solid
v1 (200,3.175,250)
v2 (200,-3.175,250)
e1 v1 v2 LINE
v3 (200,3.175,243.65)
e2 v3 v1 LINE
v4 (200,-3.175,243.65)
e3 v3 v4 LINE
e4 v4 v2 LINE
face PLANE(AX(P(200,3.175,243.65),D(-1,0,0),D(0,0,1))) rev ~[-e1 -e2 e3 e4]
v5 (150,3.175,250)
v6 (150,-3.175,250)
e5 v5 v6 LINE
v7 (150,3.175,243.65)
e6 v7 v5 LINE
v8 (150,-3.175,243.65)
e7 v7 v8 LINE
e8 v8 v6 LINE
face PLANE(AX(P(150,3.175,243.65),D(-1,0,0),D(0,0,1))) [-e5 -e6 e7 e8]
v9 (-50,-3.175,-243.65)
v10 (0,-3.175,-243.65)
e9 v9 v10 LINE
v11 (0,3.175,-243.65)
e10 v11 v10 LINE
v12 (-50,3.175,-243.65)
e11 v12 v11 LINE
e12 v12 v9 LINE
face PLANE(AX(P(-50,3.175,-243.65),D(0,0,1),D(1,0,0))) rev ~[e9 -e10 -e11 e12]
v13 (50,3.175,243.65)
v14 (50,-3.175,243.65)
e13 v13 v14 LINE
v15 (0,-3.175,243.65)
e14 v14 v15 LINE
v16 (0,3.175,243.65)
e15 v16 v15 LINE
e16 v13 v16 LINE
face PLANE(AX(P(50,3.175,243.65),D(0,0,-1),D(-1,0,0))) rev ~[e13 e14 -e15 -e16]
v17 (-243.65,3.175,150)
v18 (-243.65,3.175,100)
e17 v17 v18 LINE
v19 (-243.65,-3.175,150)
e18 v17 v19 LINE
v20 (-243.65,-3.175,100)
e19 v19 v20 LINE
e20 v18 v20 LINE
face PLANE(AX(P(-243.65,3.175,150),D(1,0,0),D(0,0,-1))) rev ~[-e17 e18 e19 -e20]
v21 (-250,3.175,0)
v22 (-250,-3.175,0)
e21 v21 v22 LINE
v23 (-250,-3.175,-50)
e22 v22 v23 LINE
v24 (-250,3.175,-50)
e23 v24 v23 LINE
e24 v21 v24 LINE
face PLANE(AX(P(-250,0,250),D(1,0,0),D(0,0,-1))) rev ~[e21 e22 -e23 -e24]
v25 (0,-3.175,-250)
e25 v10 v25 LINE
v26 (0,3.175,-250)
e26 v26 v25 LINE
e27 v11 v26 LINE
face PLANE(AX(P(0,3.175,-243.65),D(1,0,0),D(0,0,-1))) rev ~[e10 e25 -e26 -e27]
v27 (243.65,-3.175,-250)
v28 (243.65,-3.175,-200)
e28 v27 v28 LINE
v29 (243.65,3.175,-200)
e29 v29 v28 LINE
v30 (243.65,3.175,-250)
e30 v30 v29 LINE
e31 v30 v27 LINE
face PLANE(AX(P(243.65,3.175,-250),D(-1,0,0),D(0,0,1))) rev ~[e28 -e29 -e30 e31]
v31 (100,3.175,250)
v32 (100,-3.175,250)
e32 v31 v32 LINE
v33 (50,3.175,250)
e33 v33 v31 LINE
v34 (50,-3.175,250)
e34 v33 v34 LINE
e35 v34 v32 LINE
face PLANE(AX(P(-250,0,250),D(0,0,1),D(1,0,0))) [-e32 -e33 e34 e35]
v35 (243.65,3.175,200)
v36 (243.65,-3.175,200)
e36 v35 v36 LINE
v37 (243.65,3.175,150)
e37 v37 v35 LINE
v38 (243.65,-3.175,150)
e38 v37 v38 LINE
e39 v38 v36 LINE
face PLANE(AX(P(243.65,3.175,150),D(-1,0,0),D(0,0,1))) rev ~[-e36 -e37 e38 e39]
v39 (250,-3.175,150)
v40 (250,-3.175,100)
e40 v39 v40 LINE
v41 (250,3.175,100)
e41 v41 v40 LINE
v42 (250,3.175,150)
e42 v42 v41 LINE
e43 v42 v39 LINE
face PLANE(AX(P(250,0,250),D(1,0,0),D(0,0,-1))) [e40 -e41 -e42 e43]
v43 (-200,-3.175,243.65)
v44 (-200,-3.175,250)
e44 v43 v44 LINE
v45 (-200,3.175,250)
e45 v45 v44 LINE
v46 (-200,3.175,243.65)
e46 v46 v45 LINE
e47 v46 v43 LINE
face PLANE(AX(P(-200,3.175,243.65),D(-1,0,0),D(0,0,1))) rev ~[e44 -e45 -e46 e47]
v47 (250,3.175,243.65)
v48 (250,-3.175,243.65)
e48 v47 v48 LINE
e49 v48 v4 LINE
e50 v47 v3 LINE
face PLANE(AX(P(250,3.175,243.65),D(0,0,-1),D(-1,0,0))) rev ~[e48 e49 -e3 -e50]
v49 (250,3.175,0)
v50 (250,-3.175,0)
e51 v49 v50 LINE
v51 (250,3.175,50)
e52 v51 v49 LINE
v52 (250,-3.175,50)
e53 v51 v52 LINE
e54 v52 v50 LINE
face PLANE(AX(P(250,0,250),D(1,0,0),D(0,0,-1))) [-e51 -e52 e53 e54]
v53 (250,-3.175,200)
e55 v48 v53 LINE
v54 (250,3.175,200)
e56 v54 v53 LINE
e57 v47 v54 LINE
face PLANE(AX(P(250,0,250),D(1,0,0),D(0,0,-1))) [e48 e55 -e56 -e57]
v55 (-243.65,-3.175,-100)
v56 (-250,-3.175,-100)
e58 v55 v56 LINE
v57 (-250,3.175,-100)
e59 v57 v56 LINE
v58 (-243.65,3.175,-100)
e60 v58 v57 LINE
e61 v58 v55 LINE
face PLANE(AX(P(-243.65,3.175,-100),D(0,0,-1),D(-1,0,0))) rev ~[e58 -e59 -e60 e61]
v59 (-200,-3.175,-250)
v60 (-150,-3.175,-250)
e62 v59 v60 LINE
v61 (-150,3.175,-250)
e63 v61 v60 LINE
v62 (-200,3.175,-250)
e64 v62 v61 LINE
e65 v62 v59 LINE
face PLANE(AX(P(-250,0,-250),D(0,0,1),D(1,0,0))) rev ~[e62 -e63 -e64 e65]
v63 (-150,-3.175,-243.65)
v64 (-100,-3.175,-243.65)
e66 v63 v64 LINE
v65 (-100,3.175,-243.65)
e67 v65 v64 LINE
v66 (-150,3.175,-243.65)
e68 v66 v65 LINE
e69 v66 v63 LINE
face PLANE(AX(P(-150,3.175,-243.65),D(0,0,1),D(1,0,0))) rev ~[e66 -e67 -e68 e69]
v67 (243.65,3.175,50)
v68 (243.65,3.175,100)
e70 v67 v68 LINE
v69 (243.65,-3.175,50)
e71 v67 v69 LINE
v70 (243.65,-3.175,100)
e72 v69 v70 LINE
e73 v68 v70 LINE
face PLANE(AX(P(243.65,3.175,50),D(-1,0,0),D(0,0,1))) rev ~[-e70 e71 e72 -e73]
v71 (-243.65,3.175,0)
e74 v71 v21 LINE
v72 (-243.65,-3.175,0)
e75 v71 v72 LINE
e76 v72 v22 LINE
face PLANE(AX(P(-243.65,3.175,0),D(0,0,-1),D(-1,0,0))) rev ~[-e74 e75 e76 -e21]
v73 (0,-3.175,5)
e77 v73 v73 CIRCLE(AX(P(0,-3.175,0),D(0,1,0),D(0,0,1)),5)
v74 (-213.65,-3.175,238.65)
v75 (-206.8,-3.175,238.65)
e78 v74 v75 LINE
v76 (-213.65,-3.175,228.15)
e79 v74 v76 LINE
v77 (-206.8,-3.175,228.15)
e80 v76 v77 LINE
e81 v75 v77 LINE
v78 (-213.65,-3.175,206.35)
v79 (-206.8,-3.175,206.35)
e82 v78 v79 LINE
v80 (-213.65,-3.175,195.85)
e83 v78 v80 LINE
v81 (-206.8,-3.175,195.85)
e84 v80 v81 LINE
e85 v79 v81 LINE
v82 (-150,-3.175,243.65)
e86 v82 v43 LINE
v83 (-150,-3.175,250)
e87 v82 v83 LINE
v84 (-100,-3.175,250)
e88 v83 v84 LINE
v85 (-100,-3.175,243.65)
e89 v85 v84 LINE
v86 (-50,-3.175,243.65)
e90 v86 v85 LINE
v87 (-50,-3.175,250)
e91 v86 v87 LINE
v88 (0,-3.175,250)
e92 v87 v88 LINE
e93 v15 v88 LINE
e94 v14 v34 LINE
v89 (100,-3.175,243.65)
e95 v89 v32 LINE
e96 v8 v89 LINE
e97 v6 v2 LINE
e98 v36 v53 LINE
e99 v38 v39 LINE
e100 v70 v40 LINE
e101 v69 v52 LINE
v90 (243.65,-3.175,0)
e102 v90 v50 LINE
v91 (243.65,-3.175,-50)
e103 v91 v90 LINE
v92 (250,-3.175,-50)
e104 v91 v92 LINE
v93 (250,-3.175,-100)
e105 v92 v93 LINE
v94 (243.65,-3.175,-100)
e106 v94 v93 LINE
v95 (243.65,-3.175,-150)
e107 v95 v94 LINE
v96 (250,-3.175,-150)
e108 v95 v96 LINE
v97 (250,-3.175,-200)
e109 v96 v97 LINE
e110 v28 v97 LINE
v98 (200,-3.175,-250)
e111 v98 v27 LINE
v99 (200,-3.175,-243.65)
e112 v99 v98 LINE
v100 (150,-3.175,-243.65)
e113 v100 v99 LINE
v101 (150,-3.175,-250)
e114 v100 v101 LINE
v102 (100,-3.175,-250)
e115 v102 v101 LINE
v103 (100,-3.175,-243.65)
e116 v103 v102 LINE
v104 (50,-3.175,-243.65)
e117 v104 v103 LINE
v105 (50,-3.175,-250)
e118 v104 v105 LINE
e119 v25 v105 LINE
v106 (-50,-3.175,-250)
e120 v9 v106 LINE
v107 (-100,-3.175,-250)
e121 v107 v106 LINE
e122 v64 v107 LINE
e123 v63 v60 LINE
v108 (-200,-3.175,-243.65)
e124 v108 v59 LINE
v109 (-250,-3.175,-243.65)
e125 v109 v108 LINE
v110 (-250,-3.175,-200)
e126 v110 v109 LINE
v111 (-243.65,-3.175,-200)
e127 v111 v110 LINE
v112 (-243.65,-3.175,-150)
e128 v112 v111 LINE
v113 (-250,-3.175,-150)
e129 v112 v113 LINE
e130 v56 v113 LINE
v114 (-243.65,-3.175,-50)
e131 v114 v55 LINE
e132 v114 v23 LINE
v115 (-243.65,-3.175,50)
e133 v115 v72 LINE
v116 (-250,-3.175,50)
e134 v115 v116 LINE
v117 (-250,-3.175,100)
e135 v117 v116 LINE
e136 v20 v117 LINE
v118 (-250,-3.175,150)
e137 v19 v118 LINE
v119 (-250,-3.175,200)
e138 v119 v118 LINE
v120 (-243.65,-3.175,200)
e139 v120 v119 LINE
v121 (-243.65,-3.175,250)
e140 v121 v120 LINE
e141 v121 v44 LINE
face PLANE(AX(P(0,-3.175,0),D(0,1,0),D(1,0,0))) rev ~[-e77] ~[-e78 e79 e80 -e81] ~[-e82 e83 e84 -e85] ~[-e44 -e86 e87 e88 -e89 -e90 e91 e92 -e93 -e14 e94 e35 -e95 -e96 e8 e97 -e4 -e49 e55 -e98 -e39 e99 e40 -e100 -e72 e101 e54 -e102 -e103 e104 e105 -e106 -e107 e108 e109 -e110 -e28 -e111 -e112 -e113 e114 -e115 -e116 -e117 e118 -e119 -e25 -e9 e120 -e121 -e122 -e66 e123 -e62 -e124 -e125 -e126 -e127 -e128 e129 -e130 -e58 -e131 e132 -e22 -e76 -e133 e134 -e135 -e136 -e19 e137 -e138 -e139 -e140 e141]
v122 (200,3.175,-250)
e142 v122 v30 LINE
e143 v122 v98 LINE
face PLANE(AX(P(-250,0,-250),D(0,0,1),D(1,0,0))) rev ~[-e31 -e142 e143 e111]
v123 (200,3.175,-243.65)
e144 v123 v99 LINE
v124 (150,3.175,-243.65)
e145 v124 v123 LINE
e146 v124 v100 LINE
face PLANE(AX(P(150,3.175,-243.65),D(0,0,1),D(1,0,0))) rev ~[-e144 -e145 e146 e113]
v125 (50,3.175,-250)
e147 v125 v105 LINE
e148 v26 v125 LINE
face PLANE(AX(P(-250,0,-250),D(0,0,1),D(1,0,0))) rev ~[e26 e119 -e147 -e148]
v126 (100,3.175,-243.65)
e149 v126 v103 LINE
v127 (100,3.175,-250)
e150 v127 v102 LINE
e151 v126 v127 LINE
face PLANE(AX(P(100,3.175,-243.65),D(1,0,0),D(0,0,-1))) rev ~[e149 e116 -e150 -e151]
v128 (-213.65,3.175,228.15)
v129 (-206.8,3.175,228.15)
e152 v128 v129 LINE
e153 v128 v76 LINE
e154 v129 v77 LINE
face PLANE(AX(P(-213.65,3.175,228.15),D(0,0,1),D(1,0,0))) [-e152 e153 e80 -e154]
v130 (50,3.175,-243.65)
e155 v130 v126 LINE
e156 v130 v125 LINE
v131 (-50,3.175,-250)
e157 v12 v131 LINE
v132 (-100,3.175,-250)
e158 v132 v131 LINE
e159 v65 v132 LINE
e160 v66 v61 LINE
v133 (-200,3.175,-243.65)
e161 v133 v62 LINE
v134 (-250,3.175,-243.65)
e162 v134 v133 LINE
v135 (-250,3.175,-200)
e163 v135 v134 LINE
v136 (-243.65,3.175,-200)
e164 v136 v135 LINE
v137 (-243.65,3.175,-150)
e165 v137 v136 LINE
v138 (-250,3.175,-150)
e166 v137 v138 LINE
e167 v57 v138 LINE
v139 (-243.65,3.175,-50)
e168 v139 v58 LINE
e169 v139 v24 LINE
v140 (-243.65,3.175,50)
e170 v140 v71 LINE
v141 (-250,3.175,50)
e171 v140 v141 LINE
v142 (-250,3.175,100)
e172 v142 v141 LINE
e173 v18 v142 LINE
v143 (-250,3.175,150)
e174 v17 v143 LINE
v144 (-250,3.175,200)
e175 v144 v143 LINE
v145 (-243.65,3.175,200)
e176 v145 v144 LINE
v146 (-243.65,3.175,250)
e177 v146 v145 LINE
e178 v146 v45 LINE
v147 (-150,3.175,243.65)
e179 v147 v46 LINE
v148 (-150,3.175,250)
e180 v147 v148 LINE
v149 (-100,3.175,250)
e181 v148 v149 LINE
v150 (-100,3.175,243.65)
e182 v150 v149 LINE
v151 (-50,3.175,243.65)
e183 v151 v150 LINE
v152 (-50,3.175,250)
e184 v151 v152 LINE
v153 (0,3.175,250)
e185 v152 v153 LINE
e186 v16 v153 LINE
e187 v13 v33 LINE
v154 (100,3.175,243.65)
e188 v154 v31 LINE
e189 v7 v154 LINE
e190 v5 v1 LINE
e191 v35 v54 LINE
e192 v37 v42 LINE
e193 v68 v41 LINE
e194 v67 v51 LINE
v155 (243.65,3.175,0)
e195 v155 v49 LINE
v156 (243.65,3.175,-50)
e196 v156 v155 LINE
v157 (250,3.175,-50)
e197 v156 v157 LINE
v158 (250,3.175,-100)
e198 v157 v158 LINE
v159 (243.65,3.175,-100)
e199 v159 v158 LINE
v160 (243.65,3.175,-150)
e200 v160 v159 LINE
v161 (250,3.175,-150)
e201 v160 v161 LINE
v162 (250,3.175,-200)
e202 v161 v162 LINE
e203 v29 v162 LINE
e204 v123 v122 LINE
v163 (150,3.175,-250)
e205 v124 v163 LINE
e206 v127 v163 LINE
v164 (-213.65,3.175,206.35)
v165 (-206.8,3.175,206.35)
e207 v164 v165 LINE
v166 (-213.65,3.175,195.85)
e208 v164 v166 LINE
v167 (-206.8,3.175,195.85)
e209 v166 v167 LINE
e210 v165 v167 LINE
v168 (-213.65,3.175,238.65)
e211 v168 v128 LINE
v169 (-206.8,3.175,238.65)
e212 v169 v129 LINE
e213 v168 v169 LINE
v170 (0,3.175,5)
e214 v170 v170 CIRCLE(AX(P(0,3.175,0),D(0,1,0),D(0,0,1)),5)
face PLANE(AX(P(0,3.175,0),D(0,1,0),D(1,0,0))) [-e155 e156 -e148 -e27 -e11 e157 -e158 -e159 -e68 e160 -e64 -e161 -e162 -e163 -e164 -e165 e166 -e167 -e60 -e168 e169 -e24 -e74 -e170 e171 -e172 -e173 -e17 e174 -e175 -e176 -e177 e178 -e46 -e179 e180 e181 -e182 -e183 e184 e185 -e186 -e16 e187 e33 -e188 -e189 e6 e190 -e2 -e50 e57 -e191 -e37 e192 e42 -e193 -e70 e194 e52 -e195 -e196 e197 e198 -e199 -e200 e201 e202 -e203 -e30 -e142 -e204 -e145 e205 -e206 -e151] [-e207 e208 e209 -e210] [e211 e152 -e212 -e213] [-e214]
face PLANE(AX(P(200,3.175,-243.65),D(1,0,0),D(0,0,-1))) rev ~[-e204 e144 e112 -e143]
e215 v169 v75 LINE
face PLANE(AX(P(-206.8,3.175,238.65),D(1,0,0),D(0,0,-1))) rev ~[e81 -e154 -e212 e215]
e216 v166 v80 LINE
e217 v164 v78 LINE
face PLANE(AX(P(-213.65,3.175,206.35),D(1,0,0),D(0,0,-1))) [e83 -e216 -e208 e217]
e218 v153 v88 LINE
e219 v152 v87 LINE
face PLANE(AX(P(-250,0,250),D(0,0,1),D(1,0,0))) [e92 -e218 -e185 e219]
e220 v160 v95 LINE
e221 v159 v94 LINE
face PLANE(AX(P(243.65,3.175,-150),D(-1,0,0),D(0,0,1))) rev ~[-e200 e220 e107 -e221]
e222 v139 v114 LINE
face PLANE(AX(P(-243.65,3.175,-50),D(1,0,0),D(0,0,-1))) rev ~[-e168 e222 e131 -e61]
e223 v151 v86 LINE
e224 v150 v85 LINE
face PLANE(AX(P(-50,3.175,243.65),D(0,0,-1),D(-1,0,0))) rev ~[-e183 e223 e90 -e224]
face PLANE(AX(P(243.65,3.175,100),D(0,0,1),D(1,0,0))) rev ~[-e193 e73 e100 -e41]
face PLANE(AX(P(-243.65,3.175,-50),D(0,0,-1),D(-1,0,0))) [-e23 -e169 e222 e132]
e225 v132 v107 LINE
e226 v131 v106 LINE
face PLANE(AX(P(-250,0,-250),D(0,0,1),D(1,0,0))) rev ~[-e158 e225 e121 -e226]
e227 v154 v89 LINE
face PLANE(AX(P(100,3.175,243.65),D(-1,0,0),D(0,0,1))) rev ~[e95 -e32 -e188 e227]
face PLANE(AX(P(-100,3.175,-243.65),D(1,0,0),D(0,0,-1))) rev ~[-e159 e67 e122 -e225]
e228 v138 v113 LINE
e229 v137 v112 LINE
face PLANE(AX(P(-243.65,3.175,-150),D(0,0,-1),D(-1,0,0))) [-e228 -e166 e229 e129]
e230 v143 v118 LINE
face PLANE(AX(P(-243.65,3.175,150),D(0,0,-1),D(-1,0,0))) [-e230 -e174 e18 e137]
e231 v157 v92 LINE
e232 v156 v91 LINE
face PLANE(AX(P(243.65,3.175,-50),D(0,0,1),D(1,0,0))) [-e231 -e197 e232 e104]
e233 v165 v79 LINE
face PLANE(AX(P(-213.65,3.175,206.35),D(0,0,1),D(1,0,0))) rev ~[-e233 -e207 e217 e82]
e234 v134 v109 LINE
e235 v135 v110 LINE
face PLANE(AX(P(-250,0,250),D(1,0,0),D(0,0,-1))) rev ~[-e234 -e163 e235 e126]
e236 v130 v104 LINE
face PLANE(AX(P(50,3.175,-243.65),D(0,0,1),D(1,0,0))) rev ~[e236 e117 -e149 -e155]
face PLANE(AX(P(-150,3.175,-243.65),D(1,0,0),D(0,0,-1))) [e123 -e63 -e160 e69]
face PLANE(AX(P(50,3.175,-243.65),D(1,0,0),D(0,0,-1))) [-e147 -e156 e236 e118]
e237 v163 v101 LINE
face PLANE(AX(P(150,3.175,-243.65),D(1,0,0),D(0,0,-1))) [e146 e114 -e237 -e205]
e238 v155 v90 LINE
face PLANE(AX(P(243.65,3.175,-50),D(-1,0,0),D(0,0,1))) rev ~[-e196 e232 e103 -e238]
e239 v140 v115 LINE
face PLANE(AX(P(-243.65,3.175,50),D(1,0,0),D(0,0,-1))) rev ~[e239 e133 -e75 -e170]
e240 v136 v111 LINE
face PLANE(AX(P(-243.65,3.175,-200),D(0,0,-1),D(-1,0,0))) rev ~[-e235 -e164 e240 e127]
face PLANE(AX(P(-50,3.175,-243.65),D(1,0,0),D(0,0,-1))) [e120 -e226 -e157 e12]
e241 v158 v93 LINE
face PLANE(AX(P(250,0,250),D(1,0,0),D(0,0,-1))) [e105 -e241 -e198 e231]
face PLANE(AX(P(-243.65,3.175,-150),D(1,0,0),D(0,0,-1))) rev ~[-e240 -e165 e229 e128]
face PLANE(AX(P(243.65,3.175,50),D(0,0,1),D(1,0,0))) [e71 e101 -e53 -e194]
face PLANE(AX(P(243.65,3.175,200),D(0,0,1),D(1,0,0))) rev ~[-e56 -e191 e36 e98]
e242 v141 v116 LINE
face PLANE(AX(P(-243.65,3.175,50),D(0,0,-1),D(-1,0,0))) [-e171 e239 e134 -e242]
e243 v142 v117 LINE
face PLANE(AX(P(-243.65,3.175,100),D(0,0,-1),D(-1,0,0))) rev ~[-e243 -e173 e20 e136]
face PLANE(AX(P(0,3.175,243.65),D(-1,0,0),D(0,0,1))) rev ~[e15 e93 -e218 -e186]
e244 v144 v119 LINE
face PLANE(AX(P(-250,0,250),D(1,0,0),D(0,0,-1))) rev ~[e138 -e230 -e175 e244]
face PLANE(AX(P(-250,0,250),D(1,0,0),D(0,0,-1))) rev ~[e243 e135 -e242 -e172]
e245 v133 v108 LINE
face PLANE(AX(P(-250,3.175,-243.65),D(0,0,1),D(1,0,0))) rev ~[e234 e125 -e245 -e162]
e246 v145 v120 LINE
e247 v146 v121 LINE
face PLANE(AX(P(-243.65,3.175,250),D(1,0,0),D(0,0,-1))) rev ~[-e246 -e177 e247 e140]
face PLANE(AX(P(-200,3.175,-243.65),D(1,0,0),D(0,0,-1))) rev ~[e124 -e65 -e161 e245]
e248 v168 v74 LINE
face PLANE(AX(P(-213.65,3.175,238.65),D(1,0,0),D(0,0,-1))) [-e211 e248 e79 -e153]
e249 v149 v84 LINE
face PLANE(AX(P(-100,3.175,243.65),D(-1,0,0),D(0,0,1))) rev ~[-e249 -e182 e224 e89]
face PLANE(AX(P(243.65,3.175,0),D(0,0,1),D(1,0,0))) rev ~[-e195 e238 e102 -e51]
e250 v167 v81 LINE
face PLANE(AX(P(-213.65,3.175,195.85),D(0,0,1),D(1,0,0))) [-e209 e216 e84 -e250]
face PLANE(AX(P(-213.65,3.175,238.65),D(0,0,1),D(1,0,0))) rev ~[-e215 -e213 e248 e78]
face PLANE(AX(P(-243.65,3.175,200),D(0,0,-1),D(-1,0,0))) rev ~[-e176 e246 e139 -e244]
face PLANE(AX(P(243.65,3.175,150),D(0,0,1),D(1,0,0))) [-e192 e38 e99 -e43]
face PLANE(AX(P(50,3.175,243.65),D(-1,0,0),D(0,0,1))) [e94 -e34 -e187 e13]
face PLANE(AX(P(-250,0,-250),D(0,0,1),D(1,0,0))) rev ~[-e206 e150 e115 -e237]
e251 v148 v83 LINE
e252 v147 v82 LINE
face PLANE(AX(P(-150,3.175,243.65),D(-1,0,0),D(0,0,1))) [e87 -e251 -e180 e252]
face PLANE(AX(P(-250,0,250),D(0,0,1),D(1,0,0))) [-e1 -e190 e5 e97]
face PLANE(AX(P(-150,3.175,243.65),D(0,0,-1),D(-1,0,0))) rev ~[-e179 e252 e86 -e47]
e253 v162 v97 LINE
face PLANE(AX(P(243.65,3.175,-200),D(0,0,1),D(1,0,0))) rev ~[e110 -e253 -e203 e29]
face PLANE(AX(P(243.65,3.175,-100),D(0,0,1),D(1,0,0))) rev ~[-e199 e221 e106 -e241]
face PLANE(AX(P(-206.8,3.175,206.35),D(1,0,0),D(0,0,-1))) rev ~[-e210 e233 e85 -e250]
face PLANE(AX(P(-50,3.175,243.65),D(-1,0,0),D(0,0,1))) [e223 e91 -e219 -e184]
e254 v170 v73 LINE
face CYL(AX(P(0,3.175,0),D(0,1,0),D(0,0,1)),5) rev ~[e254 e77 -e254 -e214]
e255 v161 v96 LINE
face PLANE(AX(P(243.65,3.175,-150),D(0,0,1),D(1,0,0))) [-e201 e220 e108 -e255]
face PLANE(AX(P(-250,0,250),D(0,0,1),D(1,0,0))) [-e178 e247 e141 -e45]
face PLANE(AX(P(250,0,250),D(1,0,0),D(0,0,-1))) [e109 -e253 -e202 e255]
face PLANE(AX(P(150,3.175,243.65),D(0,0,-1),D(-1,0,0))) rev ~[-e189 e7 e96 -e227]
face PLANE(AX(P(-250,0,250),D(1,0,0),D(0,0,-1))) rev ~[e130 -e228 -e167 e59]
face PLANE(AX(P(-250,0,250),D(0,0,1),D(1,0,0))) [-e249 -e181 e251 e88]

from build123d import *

# Parameters (mm, degrees)
SKETCH1_W                    = 500
SKETCH1_H                    = 500
BOSS_EXTRUDE1_DEPTH          = 3.175
SKETCH2_W                    = 50
SKETCH2_H                    = 6.35
CUT_EXTRUDE1_DEPTH           = 354.610410622
LPATTERN1_COUNT              = 5
LPATTERN1_PITCH              = 100
SKETCH3_R                    = 5
CUT_EXTRUDE2_DEPTH           = 354.610410622
CIRPATTERN1_COUNT            = 4
CIRPATTERN1_COPY_1_SKETCH_W  = 50
CIRPATTERN1_COPY_1_SKETCH_H  = 6.35
CIRPATTERN1_COPY_1_DEPTH     = 354.610410622
CIRPATTERN1_COPY_2_SKETCH_W  = 50
CIRPATTERN1_COPY_2_SKETCH_H  = 6.35
CIRPATTERN1_COPY_2_DEPTH     = 354.610410622
CIRPATTERN1_COPY_3_SKETCH_W  = 50
CIRPATTERN1_COPY_3_SKETCH_H  = 6.35
CIRPATTERN1_COPY_3_DEPTH     = 354.610410622
CIRPATTERN1_COPY_4_SKETCH_W  = 50
CIRPATTERN1_COPY_4_SKETCH_H  = 6.35
CIRPATTERN1_COPY_4_DEPTH     = 354.610410622
CIRPATTERN1_COPY_5_SKETCH_W  = 50
CIRPATTERN1_COPY_5_SKETCH_H  = 6.35
CIRPATTERN1_COPY_5_DEPTH     = 354.610410622
CIRPATTERN1_COPY_6_SKETCH_W  = 50
CIRPATTERN1_COPY_6_SKETCH_H  = 6.35
CIRPATTERN1_COPY_6_DEPTH     = 354.610410622
CIRPATTERN1_COPY_7_SKETCH_W  = 50
CIRPATTERN1_COPY_7_SKETCH_H  = 6.35
CIRPATTERN1_COPY_7_DEPTH     = 354.610410622
CIRPATTERN1_COPY_8_SKETCH_W  = 50
CIRPATTERN1_COPY_8_SKETCH_H  = 6.35
CIRPATTERN1_COPY_8_DEPTH     = 354.610410622
CIRPATTERN1_COPY_9_SKETCH_W  = 50
CIRPATTERN1_COPY_9_SKETCH_H  = 6.35
CIRPATTERN1_COPY_9_DEPTH     = 354.610410622
CIRPATTERN1_COPY_10_SKETCH_W = 50
CIRPATTERN1_COPY_10_SKETCH_H = 6.35
CIRPATTERN1_COPY_10_DEPTH    = 354.610410622
CIRPATTERN1_COPY_11_SKETCH_W = 50
CIRPATTERN1_COPY_11_SKETCH_H = 6.35
CIRPATTERN1_COPY_11_DEPTH    = 354.610410622
CIRPATTERN1_COPY_12_SKETCH_W = 50
CIRPATTERN1_COPY_12_SKETCH_H = 6.35
CIRPATTERN1_COPY_12_DEPTH    = 354.610410622
SKETCH5_W                    = 6.85
SKETCH5_H                    = 10.5
CUT_EXTRUDE3_DEPTH           = 354.610410622


with BuildPart() as part:
    # Sketch1 → Boss-Extrude1 (new, symmetric)
    with BuildSketch(Plane(origin=(0, 0, 0), x_dir=(1, 0, 0), z_dir=(0, 1, 0))):
        Rectangle(SKETCH1_W, SKETCH1_H)
    extrude(amount=BOSS_EXTRUDE1_DEPTH, both=True)

    # Sketch2 → Cut-Extrude1 (cut, through all)
    with BuildSketch(Plane(origin=(0, 3.175, 0), x_dir=(1, 0, 0), z_dir=(0, 1, 0))):
        with Locations((-225, 246.825)):
            Rectangle(SKETCH2_W, SKETCH2_H)
    cut_extrude1 = extrude(amount=-CUT_EXTRUDE1_DEPTH, mode=Mode.SUBTRACT)

    # LPattern1: Cut-Extrude1 ×5
    with Locations(*[(i * LPATTERN1_PITCH, 0, 0) for i in range(1, LPATTERN1_COUNT)]):
        add(cut_extrude1, mode=Mode.SUBTRACT)

    # Sketch3 → Cut-Extrude2 (cut, through all)
    with BuildSketch(Plane(origin=(0, 3.175, 0), x_dir=(1, 0, 0), z_dir=(0, 1, 0))):
        with Locations(Location((0, 0, 0), (0, 0, 270))):
            Circle(SKETCH3_R)
    extrude(amount=-CUT_EXTRUDE2_DEPTH, mode=Mode.SUBTRACT)

    # CirPattern1: Cut-Extrude1 ×4 about axis
    cirpattern1_axis = Axis((0, 0, 0), (0, 1, 0))
    for i in range(1, CIRPATTERN1_COUNT):
        add(cut_extrude1.rotate(cirpattern1_axis, i * 360 / CIRPATTERN1_COUNT), mode=Mode.SUBTRACT)

    # CirPattern1 copy 1 sketch → CirPattern1 copy 1 (cut, through all)
    with BuildSketch(Plane(origin=(0, 3.175, -100), x_dir=(0, 0, -1), z_dir=(0, 1, 0))):
        with Locations((-225, 246.825)):
            Rectangle(CIRPATTERN1_COPY_1_SKETCH_W, CIRPATTERN1_COPY_1_SKETCH_H)
    extrude(amount=-CIRPATTERN1_COPY_1_DEPTH, mode=Mode.SUBTRACT)

    # CirPattern1 copy 2 sketch → CirPattern1 copy 2 (cut, through all)
    with BuildSketch(Plane(origin=(-100, 3.175, 0), x_dir=(-1, 0, 0), z_dir=(0, 1, 0))):
        with Locations((-225, 246.825)):
            Rectangle(CIRPATTERN1_COPY_2_SKETCH_W, CIRPATTERN1_COPY_2_SKETCH_H)
    extrude(amount=-CIRPATTERN1_COPY_2_DEPTH, mode=Mode.SUBTRACT)

    # CirPattern1 copy 3 sketch → CirPattern1 copy 3 (cut, through all)
    with BuildSketch(Plane(origin=(0, 3.175, 100), x_dir=(0, 0, 1), z_dir=(0, 1, 0))):
        with Locations((-225, 246.825)):
            Rectangle(CIRPATTERN1_COPY_3_SKETCH_W, CIRPATTERN1_COPY_3_SKETCH_H)
    extrude(amount=-CIRPATTERN1_COPY_3_DEPTH, mode=Mode.SUBTRACT)

    # CirPattern1 copy 4 sketch → CirPattern1 copy 4 (cut, through all)
    with BuildSketch(Plane(origin=(0, 3.175, -200), x_dir=(0, 0, -1), z_dir=(0, 1, 0))):
        with Locations((-225, 246.825)):
            Rectangle(CIRPATTERN1_COPY_4_SKETCH_W, CIRPATTERN1_COPY_4_SKETCH_H)
    extrude(amount=-CIRPATTERN1_COPY_4_DEPTH, mode=Mode.SUBTRACT)

    # CirPattern1 copy 5 sketch → CirPattern1 copy 5 (cut, through all)
    with BuildSketch(Plane(origin=(-200, 3.175, 0), x_dir=(-1, 0, 0), z_dir=(0, 1, 0))):
        with Locations((-225, 246.825)):
            Rectangle(CIRPATTERN1_COPY_5_SKETCH_W, CIRPATTERN1_COPY_5_SKETCH_H)
    extrude(amount=-CIRPATTERN1_COPY_5_DEPTH, mode=Mode.SUBTRACT)

    # CirPattern1 copy 6 sketch → CirPattern1 copy 6 (cut, through all)
    with BuildSketch(Plane(origin=(0, 3.175, 200), x_dir=(0, 0, 1), z_dir=(0, 1, 0))):
        with Locations((-225, 246.825)):
            Rectangle(CIRPATTERN1_COPY_6_SKETCH_W, CIRPATTERN1_COPY_6_SKETCH_H)
    extrude(amount=-CIRPATTERN1_COPY_6_DEPTH, mode=Mode.SUBTRACT)

    # CirPattern1 copy 7 sketch → CirPattern1 copy 7 (cut, through all)
    with BuildSketch(Plane(origin=(0, 3.175, -300), x_dir=(0, 0, -1), z_dir=(0, 1, 0))):
        with Locations((-225, 246.825)):
            Rectangle(CIRPATTERN1_COPY_7_SKETCH_W, CIRPATTERN1_COPY_7_SKETCH_H)
    extrude(amount=-CIRPATTERN1_COPY_7_DEPTH, mode=Mode.SUBTRACT)

    # CirPattern1 copy 8 sketch → CirPattern1 copy 8 (cut, through all)
    with BuildSketch(Plane(origin=(-300, 3.175, 0), x_dir=(-1, 0, 0), z_dir=(0, 1, 0))):
        with Locations((-225, 246.825)):
            Rectangle(CIRPATTERN1_COPY_8_SKETCH_W, CIRPATTERN1_COPY_8_SKETCH_H)
    extrude(amount=-CIRPATTERN1_COPY_8_DEPTH, mode=Mode.SUBTRACT)

    # CirPattern1 copy 9 sketch → CirPattern1 copy 9 (cut, through all)
    with BuildSketch(Plane(origin=(0, 3.175, 300), x_dir=(0, 0, 1), z_dir=(0, 1, 0))):
        with Locations((-225, 246.825)):
            Rectangle(CIRPATTERN1_COPY_9_SKETCH_W, CIRPATTERN1_COPY_9_SKETCH_H)
    extrude(amount=-CIRPATTERN1_COPY_9_DEPTH, mode=Mode.SUBTRACT)

    # CirPattern1 copy 10 sketch → CirPattern1 copy 10 (cut, through all)
    with BuildSketch(Plane(origin=(0, 3.175, -400), x_dir=(0, 0, -1), z_dir=(0, 1, 0))):
        with Locations((-225, 246.825)):
            Rectangle(CIRPATTERN1_COPY_10_SKETCH_W, CIRPATTERN1_COPY_10_SKETCH_H)
    extrude(amount=-CIRPATTERN1_COPY_10_DEPTH, mode=Mode.SUBTRACT)

    # CirPattern1 copy 11 sketch → CirPattern1 copy 11 (cut, through all)
    with BuildSketch(Plane(origin=(-400, 3.175, 0), x_dir=(-1, 0, 0), z_dir=(0, 1, 0))):
        with Locations((-225, 246.825)):
            Rectangle(CIRPATTERN1_COPY_11_SKETCH_W, CIRPATTERN1_COPY_11_SKETCH_H)
    extrude(amount=-CIRPATTERN1_COPY_11_DEPTH, mode=Mode.SUBTRACT)

    # CirPattern1 copy 12 sketch → CirPattern1 copy 12 (cut, through all)
    with BuildSketch(Plane(origin=(0, 3.175, 400), x_dir=(0, 0, 1), z_dir=(0, 1, 0))):
        with Locations((-225, 246.825)):
            Rectangle(CIRPATTERN1_COPY_12_SKETCH_W, CIRPATTERN1_COPY_12_SKETCH_H)
    extrude(amount=-CIRPATTERN1_COPY_12_DEPTH, mode=Mode.SUBTRACT)

    # Sketch5 → Cut-Extrude3 (cut, through all)
    with BuildSketch(Plane(origin=(0, 3.175, 0), x_dir=(1, 0, 0), z_dir=(0, 1, 0))):
        with Locations((-210.225, -201.1)):
            Rectangle(SKETCH5_W, SKETCH5_H)
        with Locations((-210.225, -233.4)):
            Rectangle(SKETCH5_W, SKETCH5_H)
    extrude(amount=-CUT_EXTRUDE3_DEPTH, mode=Mode.SUBTRACT)


solid = part.part
